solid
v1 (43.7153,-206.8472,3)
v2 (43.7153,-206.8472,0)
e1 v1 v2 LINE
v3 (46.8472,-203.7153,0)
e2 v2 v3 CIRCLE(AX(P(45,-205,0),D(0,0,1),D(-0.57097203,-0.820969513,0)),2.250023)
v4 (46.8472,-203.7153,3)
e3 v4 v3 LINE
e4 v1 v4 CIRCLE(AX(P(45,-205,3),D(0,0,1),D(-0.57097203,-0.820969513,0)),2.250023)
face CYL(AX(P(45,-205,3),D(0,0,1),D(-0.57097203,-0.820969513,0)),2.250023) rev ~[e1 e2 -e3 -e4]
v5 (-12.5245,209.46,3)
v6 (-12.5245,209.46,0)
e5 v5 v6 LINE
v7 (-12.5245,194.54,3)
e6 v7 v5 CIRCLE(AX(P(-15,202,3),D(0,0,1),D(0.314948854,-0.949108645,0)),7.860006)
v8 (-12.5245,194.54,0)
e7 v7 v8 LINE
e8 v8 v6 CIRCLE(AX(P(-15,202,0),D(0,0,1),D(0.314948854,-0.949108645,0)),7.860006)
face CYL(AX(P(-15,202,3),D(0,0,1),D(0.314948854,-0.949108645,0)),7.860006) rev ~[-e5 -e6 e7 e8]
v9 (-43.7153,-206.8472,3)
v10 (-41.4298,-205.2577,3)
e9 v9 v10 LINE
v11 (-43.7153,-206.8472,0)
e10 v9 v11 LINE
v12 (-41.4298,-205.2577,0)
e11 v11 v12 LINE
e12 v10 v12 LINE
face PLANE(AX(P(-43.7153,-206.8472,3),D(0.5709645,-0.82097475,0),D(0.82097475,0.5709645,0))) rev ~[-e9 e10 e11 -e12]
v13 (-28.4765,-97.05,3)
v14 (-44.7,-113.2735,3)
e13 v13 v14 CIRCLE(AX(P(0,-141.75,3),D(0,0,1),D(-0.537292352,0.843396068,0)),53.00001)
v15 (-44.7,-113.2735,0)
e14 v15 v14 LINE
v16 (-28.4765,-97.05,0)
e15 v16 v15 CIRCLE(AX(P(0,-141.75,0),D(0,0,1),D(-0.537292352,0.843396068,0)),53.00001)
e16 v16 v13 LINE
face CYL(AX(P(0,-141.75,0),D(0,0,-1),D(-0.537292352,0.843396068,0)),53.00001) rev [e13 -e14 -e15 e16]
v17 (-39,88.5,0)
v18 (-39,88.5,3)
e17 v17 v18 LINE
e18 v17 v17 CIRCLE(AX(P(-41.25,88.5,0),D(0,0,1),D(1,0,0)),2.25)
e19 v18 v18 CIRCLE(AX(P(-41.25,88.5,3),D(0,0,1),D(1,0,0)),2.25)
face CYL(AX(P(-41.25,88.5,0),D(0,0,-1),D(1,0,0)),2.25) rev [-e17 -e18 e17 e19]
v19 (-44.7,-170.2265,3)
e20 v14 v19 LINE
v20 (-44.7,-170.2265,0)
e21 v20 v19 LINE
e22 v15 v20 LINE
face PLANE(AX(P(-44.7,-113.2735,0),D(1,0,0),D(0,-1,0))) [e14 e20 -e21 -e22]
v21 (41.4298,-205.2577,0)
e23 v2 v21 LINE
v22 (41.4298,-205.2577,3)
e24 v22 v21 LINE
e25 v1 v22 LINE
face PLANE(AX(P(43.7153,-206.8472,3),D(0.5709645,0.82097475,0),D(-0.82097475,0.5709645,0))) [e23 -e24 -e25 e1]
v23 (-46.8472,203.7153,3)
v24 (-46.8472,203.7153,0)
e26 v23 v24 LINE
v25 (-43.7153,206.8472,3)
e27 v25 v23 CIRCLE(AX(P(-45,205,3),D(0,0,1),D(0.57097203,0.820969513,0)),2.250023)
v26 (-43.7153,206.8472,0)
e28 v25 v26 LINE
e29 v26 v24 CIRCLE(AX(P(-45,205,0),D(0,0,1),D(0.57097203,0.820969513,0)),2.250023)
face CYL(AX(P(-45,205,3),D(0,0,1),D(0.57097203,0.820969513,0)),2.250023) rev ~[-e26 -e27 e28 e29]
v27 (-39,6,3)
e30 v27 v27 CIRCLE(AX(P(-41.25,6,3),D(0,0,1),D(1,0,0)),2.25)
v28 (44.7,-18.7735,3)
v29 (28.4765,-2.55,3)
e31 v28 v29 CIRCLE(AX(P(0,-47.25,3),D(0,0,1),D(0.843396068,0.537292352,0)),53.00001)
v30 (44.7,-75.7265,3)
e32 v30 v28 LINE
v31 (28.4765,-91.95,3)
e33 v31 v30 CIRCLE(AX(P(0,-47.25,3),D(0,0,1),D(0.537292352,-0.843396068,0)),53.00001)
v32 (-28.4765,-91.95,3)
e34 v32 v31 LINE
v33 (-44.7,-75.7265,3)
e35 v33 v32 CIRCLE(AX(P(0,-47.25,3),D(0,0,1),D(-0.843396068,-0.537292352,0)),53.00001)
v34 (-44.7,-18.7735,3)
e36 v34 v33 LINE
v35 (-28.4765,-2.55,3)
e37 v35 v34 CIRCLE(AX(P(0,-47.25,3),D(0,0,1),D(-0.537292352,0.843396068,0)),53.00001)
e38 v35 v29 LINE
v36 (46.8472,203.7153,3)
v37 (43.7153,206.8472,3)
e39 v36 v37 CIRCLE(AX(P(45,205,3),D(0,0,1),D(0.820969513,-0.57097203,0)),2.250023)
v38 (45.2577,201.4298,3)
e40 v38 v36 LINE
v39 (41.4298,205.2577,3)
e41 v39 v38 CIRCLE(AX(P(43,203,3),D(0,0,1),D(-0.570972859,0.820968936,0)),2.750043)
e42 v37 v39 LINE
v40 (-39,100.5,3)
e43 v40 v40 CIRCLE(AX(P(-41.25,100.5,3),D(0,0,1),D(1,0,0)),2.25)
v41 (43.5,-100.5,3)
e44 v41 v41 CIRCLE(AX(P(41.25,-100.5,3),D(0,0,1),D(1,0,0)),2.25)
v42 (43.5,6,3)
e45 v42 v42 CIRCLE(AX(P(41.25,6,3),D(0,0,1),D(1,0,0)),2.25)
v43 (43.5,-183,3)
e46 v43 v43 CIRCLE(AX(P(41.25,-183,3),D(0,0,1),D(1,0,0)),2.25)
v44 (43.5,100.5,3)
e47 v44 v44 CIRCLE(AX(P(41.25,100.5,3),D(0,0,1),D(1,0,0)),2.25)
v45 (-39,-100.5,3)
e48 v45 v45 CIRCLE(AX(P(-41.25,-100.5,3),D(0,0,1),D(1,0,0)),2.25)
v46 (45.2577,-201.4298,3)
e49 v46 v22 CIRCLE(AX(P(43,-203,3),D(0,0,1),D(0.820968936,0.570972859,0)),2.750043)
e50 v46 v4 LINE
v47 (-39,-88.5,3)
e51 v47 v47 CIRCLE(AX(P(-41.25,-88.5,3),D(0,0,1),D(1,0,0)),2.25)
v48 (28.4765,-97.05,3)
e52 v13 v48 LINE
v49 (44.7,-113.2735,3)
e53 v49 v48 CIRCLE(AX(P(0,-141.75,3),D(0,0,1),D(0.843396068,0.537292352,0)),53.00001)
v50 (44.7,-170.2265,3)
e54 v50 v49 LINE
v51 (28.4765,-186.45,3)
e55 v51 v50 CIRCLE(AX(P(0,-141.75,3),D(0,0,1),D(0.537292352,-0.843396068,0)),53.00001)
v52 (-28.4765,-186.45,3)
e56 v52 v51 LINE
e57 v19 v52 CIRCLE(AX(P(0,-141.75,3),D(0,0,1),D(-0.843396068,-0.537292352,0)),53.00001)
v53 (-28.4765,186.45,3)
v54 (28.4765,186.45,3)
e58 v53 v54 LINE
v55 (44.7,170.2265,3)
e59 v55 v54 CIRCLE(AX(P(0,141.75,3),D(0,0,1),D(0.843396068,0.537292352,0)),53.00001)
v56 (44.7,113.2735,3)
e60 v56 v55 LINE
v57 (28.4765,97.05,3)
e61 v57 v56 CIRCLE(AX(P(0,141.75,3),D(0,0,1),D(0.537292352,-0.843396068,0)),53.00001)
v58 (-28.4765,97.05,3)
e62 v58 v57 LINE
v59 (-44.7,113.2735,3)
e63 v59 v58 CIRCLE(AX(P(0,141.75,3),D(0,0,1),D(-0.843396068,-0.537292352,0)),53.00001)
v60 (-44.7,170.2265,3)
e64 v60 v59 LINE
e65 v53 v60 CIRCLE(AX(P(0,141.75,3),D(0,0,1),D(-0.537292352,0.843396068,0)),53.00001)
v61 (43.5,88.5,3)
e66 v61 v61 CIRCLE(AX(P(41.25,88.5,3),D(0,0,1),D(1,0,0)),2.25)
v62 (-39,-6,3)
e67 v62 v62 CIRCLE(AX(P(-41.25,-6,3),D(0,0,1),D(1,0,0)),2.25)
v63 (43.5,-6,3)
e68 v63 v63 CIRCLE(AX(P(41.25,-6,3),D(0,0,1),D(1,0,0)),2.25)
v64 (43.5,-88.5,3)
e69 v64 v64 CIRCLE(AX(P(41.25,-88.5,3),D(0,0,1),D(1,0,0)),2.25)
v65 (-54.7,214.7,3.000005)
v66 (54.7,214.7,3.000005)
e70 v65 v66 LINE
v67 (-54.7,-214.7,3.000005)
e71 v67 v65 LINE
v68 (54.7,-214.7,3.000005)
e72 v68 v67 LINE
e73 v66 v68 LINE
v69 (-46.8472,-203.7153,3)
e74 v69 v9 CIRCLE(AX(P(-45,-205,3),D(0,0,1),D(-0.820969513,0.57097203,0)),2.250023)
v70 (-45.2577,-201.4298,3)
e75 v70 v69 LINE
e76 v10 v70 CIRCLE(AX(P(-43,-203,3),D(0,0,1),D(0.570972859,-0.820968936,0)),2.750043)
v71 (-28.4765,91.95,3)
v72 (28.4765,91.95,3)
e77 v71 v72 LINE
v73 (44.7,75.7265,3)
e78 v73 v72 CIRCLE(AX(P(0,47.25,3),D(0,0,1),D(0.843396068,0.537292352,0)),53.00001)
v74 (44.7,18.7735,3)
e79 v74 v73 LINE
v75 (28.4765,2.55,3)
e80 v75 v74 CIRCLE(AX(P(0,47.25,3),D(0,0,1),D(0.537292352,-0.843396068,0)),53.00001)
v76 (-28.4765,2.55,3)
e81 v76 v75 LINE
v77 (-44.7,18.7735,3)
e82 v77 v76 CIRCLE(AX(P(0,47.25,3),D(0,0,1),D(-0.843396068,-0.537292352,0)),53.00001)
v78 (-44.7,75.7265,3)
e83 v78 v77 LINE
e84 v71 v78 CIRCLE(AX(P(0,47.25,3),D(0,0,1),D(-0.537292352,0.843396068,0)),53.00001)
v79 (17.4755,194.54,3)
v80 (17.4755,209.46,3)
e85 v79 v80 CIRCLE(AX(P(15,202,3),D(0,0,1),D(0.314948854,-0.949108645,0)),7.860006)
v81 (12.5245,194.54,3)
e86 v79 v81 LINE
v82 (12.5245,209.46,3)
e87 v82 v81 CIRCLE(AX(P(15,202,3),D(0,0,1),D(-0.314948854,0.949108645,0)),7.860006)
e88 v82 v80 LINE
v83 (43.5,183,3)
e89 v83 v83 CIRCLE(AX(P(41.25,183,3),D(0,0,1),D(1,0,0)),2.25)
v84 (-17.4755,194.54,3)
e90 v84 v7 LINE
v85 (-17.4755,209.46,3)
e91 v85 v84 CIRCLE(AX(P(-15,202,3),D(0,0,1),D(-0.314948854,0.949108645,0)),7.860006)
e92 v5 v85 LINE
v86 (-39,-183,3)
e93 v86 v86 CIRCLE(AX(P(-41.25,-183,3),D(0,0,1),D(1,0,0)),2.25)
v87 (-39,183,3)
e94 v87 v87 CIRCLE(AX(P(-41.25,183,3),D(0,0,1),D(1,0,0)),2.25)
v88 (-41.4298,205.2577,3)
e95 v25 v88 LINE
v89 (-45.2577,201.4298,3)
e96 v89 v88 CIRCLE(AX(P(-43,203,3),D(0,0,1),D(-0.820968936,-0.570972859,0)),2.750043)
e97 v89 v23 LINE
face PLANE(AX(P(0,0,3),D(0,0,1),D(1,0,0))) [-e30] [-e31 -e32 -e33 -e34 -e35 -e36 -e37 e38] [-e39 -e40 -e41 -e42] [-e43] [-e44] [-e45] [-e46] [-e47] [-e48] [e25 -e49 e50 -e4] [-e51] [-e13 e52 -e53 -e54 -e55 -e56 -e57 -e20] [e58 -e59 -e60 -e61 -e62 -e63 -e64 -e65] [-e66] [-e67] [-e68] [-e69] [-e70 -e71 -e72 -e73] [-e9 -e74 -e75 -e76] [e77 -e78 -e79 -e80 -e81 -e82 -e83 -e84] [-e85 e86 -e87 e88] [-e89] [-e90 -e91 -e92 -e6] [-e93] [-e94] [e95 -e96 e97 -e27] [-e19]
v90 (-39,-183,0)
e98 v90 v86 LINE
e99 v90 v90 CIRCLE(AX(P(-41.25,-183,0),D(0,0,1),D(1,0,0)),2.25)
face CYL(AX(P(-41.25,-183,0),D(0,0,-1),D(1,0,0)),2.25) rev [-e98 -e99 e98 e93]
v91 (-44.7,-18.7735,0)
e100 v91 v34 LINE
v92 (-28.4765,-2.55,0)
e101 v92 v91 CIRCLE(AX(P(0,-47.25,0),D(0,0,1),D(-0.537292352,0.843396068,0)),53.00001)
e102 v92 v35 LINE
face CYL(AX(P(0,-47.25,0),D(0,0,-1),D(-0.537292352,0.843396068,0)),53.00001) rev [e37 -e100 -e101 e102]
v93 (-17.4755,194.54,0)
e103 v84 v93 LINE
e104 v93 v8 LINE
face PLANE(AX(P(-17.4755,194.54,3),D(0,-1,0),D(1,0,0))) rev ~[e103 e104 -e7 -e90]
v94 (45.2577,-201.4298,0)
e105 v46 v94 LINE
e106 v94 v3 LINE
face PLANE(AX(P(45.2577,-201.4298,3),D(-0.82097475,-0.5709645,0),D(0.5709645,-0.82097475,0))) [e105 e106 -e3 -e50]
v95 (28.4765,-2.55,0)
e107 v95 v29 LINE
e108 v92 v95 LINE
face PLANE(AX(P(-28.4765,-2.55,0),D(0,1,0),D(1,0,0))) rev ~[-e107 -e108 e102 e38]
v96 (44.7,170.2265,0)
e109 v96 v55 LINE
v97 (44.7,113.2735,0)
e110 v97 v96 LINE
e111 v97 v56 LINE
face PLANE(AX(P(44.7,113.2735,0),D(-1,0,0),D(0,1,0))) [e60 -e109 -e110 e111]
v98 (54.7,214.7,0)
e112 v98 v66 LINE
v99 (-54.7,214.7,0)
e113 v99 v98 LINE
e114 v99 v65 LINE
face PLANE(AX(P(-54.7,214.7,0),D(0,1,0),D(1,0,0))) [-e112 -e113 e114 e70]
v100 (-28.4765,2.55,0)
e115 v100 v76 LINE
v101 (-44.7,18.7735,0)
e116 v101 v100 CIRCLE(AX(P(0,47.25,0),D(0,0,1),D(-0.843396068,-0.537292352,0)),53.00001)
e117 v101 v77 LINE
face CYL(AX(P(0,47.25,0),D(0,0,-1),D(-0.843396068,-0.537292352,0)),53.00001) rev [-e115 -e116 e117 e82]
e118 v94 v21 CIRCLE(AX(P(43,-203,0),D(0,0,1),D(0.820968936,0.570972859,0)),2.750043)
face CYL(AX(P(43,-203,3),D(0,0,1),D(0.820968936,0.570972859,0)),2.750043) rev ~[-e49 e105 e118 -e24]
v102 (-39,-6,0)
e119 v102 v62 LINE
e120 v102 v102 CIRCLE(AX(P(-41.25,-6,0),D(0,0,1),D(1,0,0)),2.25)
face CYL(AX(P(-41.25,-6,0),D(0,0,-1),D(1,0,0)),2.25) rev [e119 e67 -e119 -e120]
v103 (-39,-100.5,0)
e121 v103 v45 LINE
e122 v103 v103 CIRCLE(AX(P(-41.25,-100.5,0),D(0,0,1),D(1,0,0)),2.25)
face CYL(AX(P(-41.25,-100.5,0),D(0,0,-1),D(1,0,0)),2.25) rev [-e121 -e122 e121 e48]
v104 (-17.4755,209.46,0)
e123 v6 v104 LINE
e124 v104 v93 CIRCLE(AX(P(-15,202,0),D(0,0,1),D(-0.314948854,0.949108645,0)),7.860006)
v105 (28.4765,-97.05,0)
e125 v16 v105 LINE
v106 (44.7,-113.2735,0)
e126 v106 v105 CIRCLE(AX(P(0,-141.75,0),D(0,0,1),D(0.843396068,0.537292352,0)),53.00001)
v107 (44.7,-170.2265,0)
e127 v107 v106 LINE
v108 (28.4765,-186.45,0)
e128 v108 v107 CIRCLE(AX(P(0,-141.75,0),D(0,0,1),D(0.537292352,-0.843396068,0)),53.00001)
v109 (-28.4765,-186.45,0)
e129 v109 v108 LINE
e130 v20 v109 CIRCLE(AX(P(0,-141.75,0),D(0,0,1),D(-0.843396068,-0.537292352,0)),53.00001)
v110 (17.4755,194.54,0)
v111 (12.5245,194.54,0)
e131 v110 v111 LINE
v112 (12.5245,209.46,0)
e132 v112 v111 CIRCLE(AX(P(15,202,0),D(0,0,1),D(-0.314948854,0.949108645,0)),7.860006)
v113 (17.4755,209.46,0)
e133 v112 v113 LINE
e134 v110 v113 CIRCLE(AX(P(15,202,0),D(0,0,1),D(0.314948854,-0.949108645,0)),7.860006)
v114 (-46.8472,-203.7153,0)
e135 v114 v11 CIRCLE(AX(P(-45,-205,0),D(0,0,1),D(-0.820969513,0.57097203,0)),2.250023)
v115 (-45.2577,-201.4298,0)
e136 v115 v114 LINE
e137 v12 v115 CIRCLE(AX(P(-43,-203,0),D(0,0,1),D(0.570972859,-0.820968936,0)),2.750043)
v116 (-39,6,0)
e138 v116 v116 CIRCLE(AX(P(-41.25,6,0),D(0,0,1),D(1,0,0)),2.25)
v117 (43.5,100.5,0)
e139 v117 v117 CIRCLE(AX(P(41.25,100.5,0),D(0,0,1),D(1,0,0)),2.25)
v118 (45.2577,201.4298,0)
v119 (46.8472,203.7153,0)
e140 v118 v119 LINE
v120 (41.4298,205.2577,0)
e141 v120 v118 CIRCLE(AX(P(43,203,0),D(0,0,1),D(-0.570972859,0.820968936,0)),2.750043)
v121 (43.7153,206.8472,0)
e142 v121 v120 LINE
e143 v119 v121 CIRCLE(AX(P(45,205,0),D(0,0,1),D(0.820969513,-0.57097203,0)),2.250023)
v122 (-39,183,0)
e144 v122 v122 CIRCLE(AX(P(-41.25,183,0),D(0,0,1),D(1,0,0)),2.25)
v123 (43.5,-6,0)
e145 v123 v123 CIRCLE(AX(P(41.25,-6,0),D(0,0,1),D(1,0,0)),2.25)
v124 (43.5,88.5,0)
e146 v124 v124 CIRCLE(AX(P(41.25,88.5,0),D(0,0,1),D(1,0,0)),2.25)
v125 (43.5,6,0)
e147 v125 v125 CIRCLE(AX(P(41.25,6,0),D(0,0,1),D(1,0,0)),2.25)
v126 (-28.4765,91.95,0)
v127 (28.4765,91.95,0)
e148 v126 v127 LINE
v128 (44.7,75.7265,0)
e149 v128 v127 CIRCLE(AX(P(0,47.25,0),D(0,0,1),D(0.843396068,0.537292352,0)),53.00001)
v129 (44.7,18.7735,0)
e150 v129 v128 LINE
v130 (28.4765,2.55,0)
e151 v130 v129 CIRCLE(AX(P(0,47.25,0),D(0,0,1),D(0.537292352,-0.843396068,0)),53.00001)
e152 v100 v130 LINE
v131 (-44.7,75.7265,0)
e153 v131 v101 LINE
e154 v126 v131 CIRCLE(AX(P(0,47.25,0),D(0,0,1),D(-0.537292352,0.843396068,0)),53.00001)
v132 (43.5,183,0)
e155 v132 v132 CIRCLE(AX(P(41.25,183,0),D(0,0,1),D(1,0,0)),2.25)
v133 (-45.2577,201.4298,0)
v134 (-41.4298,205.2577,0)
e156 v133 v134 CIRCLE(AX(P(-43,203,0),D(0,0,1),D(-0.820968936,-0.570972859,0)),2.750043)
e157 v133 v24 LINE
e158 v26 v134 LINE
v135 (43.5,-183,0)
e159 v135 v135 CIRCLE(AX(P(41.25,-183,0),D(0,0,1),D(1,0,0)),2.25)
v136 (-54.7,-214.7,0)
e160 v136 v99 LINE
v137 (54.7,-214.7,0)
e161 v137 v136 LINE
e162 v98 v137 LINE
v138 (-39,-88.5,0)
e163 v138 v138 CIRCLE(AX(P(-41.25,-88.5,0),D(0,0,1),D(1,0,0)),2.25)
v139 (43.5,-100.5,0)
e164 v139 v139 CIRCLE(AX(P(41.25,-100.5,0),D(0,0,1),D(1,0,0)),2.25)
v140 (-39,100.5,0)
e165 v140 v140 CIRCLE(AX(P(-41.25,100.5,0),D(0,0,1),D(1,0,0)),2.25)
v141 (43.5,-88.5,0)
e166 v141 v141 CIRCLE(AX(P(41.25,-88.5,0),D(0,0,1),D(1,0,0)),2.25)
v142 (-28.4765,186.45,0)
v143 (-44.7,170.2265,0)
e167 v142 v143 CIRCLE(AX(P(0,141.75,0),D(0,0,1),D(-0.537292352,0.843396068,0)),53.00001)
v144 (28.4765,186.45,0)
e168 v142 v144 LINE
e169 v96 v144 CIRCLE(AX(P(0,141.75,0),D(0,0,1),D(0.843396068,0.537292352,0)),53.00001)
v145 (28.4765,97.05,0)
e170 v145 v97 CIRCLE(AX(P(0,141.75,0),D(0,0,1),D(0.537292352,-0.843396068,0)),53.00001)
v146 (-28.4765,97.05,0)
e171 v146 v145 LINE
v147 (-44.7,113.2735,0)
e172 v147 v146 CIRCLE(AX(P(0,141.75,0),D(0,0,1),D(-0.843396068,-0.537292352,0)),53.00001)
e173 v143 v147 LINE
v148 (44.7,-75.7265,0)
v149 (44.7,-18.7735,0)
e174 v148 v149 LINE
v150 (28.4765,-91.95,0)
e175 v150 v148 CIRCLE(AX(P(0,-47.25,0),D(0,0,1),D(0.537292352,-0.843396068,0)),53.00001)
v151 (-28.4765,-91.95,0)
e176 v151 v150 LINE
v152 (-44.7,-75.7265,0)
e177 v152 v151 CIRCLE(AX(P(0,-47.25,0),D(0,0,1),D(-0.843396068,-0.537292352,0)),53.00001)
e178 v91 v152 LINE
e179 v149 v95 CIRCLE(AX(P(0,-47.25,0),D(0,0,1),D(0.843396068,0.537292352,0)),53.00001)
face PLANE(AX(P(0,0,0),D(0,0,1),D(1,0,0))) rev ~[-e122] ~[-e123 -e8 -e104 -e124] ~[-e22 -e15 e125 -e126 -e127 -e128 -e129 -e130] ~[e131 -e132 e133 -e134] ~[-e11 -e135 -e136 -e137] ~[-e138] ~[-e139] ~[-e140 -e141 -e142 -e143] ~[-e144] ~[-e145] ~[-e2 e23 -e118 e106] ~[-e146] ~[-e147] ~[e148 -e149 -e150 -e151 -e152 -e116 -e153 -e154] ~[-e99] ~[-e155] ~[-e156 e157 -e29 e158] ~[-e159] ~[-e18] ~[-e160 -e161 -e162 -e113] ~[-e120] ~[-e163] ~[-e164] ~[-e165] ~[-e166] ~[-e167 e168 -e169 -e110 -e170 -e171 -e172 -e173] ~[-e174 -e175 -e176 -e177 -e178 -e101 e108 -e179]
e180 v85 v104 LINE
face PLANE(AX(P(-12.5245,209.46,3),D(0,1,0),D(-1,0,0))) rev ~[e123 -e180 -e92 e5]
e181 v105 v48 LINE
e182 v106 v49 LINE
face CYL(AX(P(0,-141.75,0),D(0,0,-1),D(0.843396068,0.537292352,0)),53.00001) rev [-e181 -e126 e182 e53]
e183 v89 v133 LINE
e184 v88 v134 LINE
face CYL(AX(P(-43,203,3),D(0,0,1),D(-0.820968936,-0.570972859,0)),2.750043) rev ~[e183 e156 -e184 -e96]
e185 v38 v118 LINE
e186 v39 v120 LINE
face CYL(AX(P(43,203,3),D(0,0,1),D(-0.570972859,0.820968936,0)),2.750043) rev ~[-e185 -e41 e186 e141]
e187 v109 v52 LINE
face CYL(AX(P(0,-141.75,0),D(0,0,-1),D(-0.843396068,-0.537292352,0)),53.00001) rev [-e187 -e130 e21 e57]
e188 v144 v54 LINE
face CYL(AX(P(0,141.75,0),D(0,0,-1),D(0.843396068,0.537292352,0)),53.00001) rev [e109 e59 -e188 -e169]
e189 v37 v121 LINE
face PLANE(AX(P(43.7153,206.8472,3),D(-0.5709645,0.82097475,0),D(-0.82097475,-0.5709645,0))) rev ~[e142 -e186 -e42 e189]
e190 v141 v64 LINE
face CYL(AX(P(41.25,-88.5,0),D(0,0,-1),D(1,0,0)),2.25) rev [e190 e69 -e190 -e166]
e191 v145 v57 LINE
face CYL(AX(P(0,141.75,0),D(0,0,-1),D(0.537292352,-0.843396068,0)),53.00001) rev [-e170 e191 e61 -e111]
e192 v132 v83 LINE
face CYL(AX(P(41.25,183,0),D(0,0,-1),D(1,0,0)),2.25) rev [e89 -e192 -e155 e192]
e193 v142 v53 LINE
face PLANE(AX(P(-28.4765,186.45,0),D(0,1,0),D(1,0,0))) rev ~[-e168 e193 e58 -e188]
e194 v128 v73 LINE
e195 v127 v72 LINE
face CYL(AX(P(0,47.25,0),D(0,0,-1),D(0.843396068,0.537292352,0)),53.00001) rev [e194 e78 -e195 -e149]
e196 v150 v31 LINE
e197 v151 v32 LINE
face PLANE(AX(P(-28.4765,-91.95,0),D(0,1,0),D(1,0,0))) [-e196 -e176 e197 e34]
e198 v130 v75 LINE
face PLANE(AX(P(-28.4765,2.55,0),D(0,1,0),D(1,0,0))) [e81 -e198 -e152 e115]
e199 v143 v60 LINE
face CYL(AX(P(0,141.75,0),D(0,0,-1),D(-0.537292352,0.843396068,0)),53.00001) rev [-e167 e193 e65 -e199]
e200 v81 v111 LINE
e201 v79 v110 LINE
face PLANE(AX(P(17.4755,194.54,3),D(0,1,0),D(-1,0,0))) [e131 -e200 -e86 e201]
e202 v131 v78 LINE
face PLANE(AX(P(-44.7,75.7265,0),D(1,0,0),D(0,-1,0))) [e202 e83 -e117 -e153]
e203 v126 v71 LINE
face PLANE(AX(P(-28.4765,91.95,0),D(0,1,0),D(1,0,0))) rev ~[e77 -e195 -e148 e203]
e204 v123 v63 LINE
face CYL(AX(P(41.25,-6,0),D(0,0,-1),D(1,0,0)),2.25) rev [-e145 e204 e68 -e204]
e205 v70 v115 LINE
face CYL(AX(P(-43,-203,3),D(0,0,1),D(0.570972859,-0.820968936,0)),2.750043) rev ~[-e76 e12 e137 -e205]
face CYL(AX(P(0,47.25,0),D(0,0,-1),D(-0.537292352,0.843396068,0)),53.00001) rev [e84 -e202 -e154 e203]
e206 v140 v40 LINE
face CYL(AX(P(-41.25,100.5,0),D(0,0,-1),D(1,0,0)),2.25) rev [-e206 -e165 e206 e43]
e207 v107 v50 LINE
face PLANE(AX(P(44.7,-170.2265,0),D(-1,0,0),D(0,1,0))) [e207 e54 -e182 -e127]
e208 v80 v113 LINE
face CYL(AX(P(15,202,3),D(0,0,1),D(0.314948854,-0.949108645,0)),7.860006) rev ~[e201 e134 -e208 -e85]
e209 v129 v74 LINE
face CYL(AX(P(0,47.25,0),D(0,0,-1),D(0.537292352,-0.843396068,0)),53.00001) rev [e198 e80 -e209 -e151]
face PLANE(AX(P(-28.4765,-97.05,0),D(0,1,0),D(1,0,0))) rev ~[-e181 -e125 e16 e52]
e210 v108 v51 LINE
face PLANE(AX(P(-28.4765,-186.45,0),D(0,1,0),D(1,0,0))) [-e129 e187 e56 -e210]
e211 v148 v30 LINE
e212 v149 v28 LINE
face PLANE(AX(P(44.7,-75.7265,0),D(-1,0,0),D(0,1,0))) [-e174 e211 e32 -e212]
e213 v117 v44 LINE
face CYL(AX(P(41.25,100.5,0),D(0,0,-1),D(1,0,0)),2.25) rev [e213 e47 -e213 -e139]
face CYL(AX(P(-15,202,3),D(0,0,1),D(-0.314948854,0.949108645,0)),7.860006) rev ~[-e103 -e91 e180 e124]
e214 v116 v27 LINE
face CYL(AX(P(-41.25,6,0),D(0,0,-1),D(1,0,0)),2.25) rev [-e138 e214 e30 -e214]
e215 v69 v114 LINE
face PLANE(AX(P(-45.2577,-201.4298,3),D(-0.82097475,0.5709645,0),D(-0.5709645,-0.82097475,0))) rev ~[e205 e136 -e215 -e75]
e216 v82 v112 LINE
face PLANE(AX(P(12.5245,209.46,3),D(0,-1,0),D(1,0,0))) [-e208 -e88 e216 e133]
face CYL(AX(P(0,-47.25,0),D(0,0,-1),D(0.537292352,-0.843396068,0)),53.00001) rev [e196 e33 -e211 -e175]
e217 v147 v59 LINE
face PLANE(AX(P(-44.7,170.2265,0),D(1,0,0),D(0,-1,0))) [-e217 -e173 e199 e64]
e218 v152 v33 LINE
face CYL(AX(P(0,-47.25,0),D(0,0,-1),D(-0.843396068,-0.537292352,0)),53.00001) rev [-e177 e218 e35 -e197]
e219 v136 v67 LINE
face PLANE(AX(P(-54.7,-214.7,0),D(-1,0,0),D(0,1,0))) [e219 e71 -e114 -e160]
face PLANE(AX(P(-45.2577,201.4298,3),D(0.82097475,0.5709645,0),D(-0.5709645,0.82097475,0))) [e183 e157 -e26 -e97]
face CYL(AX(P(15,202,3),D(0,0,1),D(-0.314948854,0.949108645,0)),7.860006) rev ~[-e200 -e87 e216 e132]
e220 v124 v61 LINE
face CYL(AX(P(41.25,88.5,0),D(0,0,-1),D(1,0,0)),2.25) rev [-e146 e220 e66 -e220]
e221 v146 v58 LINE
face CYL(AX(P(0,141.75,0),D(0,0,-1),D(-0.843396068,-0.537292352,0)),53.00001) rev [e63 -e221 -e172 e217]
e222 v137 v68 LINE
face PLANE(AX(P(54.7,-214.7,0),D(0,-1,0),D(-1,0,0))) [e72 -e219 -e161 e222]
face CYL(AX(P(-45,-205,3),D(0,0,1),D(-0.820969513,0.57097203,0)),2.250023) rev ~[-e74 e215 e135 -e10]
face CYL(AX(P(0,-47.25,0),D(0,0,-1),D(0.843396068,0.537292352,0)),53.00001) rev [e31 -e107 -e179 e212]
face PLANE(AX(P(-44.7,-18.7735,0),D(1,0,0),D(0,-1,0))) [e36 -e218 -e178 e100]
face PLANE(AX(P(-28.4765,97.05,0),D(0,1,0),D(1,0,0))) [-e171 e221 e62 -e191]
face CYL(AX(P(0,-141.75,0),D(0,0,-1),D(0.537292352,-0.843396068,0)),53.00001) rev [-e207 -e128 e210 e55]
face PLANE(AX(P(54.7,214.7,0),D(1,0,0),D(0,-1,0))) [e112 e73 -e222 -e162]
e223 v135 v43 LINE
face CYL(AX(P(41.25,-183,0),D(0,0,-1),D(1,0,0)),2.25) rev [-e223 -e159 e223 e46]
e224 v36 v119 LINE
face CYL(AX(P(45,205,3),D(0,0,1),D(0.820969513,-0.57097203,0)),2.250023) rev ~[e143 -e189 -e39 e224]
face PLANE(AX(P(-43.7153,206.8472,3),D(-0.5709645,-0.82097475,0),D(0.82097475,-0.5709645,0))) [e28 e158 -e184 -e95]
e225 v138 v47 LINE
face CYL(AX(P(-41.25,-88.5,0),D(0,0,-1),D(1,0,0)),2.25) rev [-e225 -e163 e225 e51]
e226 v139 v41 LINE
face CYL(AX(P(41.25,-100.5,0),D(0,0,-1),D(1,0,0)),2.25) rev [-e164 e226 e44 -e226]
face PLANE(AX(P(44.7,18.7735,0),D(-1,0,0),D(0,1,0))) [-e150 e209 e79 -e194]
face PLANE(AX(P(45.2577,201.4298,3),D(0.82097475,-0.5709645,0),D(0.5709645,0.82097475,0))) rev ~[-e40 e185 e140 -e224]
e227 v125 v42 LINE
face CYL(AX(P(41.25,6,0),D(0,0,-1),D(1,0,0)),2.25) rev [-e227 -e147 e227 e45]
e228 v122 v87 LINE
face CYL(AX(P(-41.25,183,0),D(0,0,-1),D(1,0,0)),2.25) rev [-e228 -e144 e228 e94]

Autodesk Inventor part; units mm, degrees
ref_plane "YZ Plane" through (0, 0, 0) normal (1, 0, 0) x (0, 1, 0)
ref_plane "XZ Plane" through (0, 0, 0) normal (0, 1, 0) x (-1, 0, 0)
ref_plane "XY Plane" through (0, 0, 0) normal (0, 0, 1) x (1, 0, 0)
sketch "スケッチ1" plane through (0, 0, 0) normal (0, 0, 1) x (1, 0, 0)
  line L0 (-55, -215) -> (55, -215)
  line L1 (55, -215) -> (55, 215)
  line L2 (55, 215) -> (-55, 215)
  line L3 (-55, 215) -> (-55, -215)
  line L4 (-55, -215) -> (55, 215) construction
  line L5 (55, -215) -> (-55, 215) construction
  line L6 (-55, 185) -> (-50, 185) construction
  line L7 (-50, 185) -> (-25, 210) construction
  line L8 (-25, 210) -> (-25, 215) construction
  line L9 (-46, 95.75) -> (46, 95.75) construction
  line L10 (46, 95.75) -> (46, 187.75) construction
  line L11 (46, 187.75) -> (-46, 187.75) construction
  line L12 (-46, 187.75) -> (-46, 95.75) construction
  line L13 (-46, 95.75) -> (46, 187.75) construction
  line L14 (46, 95.75) -> (-46, 187.75) construction
  line L15 (-46, 1.25) -> (46, 1.25) construction
  line L16 (46, 1.25) -> (46, 93.25) construction
  line L17 (46, 93.25) -> (-46, 93.25) construction
  line L18 (-46, 93.25) -> (-46, 1.25) construction
  line L19 (-46, 1.25) -> (46, 93.25) construction
  line L20 (46, 1.25) -> (-46, 93.25) construction
  line L21 (0, 0) -> (0, 141.75) construction
  circle A0 centre (0, 141.75) radius 53 construction
  line L22 (-44.7, 97.05) -> (44.7, 97.05) construction
  line L23 (44.7, 97.05) -> (44.7, 186.45) construction
  line L24 (44.7, 186.45) -> (-44.7, 186.45) construction
  line L25 (-44.7, 186.45) -> (-44.7, 97.05) construction
  line L26 (-44.7, 97.05) -> (44.7, 186.45) construction
  line L27 (44.7, 97.05) -> (-44.7, 186.45) construction
  arc A1 (-28.4765, 186.45) -> (-44.7, 170.2265) centre (0, 141.75) ccw
  arc A2 (-44.7, 113.2735) -> (-28.4765, 97.05) centre (0, 141.75) ccw
  arc A3 (28.4765, 97.05) -> (44.7, 113.2735) centre (0, 141.75) ccw
  arc A4 (44.7, 170.2265) -> (28.4765, 186.45) centre (0, 141.75) ccw
  line L28 (-28.4765, 186.45) -> (28.4765, 186.45)
  line L29 (-44.7, 170.2265) -> (-44.7, 113.2735)
  line L30 (-28.4765, 97.05) -> (28.4765, 97.05)
  line L31 (44.7, 113.2735) -> (44.7, 170.2265)
  line L32 (-41.25, 100.5) -> (41.25, 100.5) construction
  line L33 (41.25, 100.5) -> (41.25, 183) construction
  line L34 (41.25, 183) -> (-41.25, 183) construction
  line L35 (-41.25, 183) -> (-41.25, 100.5) construction
  line L36 (-41.25, 100.5) -> (41.25, 183) construction
  line L37 (41.25, 100.5) -> (-41.25, 183) construction
  circle A5 centre (-41.25, 183) radius 2.25
  circle A6 centre (-41.25, 100.5) radius 2.25
  circle A7 centre (41.25, 100.5) radius 2.25
  circle A8 centre (41.25, 183) radius 2.25
  circle A9 centre (-41.25, 88.5) radius 2.25
  arc A10 (-28.4765, 91.95) -> (-44.7, 75.7265) centre (0, 47.25) ccw
  line L38 (-28.4765, 91.95) -> (28.4765, 91.95)
  arc A11 (44.7, 75.7265) -> (28.4765, 91.95) centre (0, 47.25) ccw
  circle A12 centre (41.25, 88.5) radius 2.25
  line L39 (44.7, 18.7735) -> (44.7, 75.7265)
  arc A13 (28.4765, 2.55) -> (44.7, 18.7735) centre (0, 47.25) ccw
  circle A14 centre (41.25, 6) radius 2.25
  line L40 (-28.4765, 2.55) -> (28.4765, 2.55)
  circle A15 centre (-41.25, 6) radius 2.25
  arc A16 (-44.7, 18.7735) -> (-28.4765, 2.55) centre (0, 47.25) ccw
  line L41 (-44.7, 75.7265) -> (-44.7, 18.7735)
  circle A17 centre (-41.25, -6) radius 2.25
  arc A18 (-28.4765, -2.55) -> (-44.7, -18.7735) centre (0, -47.25) ccw
  line L42 (-28.4765, -2.55) -> (28.4765, -2.55)
  arc A19 (44.7, -18.7735) -> (28.4765, -2.55) centre (0, -47.25) ccw
  circle A20 centre (41.25, -6) radius 2.25
  line L43 (44.7, -75.7265) -> (44.7, -18.7735)
  arc A21 (28.4765, -91.95) -> (44.7, -75.7265) centre (0, -47.25) ccw
  circle A22 centre (41.25, -88.5) radius 2.25
  line L44 (-28.4765, -91.95) -> (28.4765, -91.95)
  circle A23 centre (-41.25, -88.5) radius 2.25
  arc A24 (-44.7, -75.7265) -> (-28.4765, -91.95) centre (0, -47.25) ccw
  line L45 (-44.7, -18.7735) -> (-44.7, -75.7265)
  circle A25 centre (-41.25, -100.5) radius 2.25
  arc A26 (-28.4765, -97.05) -> (-44.7, -113.2735) centre (0, -141.75) ccw
  line L46 (-28.4765, -97.05) -> (28.4765, -97.05)
  arc A27 (44.7, -113.2735) -> (28.4765, -97.05) centre (0, -141.75) ccw
  circle A28 centre (41.25, -100.5) radius 2.25
  line L47 (44.7, -170.2265) -> (44.7, -113.2735)
  arc A29 (28.4765, -186.45) -> (44.7, -170.2265) centre (0, -141.75) ccw
  circle A30 centre (41.25, -183) radius 2.25
  line L48 (-28.4765, -186.45) -> (28.4765, -186.45)
  circle A31 centre (-41.25, -183) radius 2.25
  arc A32 (-44.7, -170.2265) -> (-28.4765, -186.45) centre (0, -141.75) ccw
  line L49 (-44.7, -113.2735) -> (-44.7, -170.2265)
  circle A33 centre (-45, 205) radius 2.25
  circle A34 centre (45, 205) radius 2.25
  circle A35 centre (45, -205) radius 2.25
  circle A36 centre (-45, -205) radius 2.25
  circle A37 centre (-45, 0) radius 2.25
  circle A38 centre (45, 0) radius 2.25
  line L50 (-55, 0) -> (55, 0) construction
  point P0 (0, 47.25)
  point P1 (0, 47.25)
  dimension "d12" = 106
  dimension "d0" = 110
  dimension "d1" = 430
  dimension "d2" = 135
  dimension "d3" = 30
  dimension "d4" = 30
  dimension "d5" = 5
  dimension "d6" = 92
  dimension "d7" = 92
  dimension "d8" = 92
  dimension "d9" = 92
  dimension "d10" = 2.5
  dimension "d11" = 1.25
  dimension "d13" = 89.4
  dimension "d14" = 89.4
  dimension "d15" = 82.5
  dimension "d16" = 82.5
  dimension "d17" = 4.5
  dimension "d20" = 94.5
  dimension "d25" = 4.5
  dimension "d26" = 10
  dimension "d27" = 10
  dimension "d28" = 10
  dimension "d29" = 10
  dimension "d30" = 10
  dimension "d31" = 10
  dimension "d32" = 10
  dimension "d33" = 10
  dimension "d34" = 10
  dimension "d35" = 10
extrude "押し出し1" add sketch "スケッチ1" along normal blind 3 contours L3 L2 L1 L0 | A37 | A38
sketch "スケッチ2" plane through (0, 0, 3) normal (0, 0, 1) x (1, 0, 0)
  circle A0 centre (-45, 205) radius 2.25 construction
  circle A1 centre (45, -205) radius 2.25 construction
  circle A2 centre (-45, -205) radius 2.25 construction
  circle A3 centre (-43, 203) radius 2.75 construction
  line L0 (55, 215) -> (-55, 215) projected
  line L1 (-55, 215) -> (-55, -215) projected
  line L2 (-43.7153, 206.8472) -> (-41.4298, 205.2577)
  line L3 (-45.2577, 201.4298) -> (-46.8472, 203.7153)
  circle A4 centre (-45, 205) radius 2.25 construction
  arc A5 (-43.7153, 206.8472) -> (-46.8472, 203.7153) centre (-45, 205) ccw
  arc A6 (-45.2577, 201.4298) -> (-41.4298, 205.2577) centre (-43, 203) ccw
  line L4 (55, 215) -> (-55, 215) construction
  line L5 (0, 215) -> (0, -215) construction
  line L6 (-55, -215) -> (55, -215) construction
  line L7 (-55, 0) -> (55, 0) construction
  line L8 (55, -215) -> (55, 215) construction
  circle A7 centre (45, 205) radius 2.25 construction
  circle A8 centre (43, 203) radius 2.75 construction
  line L9 (43.7153, 206.8472) -> (41.4298, 205.2577)
  line L10 (45.2577, 201.4298) -> (46.8472, 203.7153)
  circle A9 centre (45, 205) radius 2.25 construction
  arc A10 (46.8472, 203.7153) -> (43.7153, 206.8472) centre (45, 205) ccw
  arc A11 (41.4298, 205.2577) -> (45.2577, 201.4298) centre (43, 203) ccw
  circle A12 centre (-45, -205) radius 2.25 construction
  circle A13 centre (-43, -203) radius 2.75 construction
  line L11 (-43.7153, -206.8472) -> (-41.4298, -205.2577)
  line L12 (-45.2577, -201.4298) -> (-46.8472, -203.7153)
  circle A14 centre (-45, -205) radius 2.25 construction
  arc A15 (-46.8472, -203.7153) -> (-43.7153, -206.8472) centre (-45, -205) ccw
  arc A16 (-41.4298, -205.2577) -> (-45.2577, -201.4298) centre (-43, -203) ccw
  circle A17 centre (45, -205) radius 2.25 construction
  line L13 (45.2577, -201.4298) -> (46.8472, -203.7153)
  arc A18 (45.2577, -201.4298) -> (41.4298, -205.2577) centre (43, -203) ccw
  circle A19 centre (43, -203) radius 2.75 construction
  line L14 (43.7153, -206.8472) -> (41.4298, -205.2577)
  circle A20 centre (45, -205) radius 2.25 construction
  arc A21 (43.7153, -206.8472) -> (46.8472, -203.7153) centre (45, -205) ccw
  point P0 (0, 0)
  dimension "d38" = 5.5
  dimension "d39" = 12
  dimension "d40" = 12
extrude "押し出し2" cut sketch "スケッチ2" against normal through all
sketch "スケッチ4" plane through (0, 0, 3) normal (0, 0, 1) x (1, 0, 0)
  line L0 (55, 215) -> (-55, 215) construction
  line L1 (-28.4765, 186.45) -> (28.4765, 186.45) construction
  line L2 (55, 215) -> (-55, 215) construction
  line L3 (0, 215) -> (0, 186.45) construction
  arc A0 (-17.4739, 209.45) -> (-17.4739, 194.55) centre (-15, 202) ccw construction
  line L4 (-17.4739, 209.45) -> (-12.5261, 209.45) construction
  line L5 (-12.5261, 194.55) -> (-17.4739, 194.55) construction
  arc A1 (-12.5261, 209.45) -> (-17.4739, 209.45) centre (-15, 202) ccw construction
  arc A2 (-12.5261, 194.55) -> (-12.5261, 209.45) centre (-15, 202) ccw construction
  arc A3 (-17.4739, 194.55) -> (-12.5261, 194.55) centre (-15, 202) ccw construction
  line L6 (-17.4755, 194.54) -> (-12.5245, 194.54)
  arc A4 (-12.5245, 194.54) -> (-12.5245, 209.46) centre (-15, 202) ccw
  line L7 (-12.5245, 209.46) -> (-17.4755, 209.46)
  arc A5 (-17.4755, 209.46) -> (-17.4755, 194.54) centre (-15, 202) ccw
  line L8 (-25, 215) -> (-25, 210) construction
  line L9 (-25, 210) -> (-50, 185) construction
  line L10 (-50, 185) -> (-55, 185) construction
  line L11 (-55, 215) -> (-55, -215) construction
  line L12 (17.4755, 194.54) -> (12.5245, 194.54)
  line L13 (12.5245, 209.46) -> (17.4755, 209.46)
  arc A6 (12.5245, 209.46) -> (12.5245, 194.54) centre (15, 202) ccw
  arc A7 (17.4755, 194.54) -> (17.4755, 209.46) centre (15, 202) ccw
  point P0 (0, 0)
  dimension "d46" = 15.7
  dimension "d47" = 14.9
  dimension "d48" = 0.01
  dimension "d49" = 13
  dimension "d50" = 15
  dimension "d51" = 135
  dimension "d52" = 30
  dimension "d53" = 5
extrude "押し出し4" cut sketch "スケッチ4" against normal through all
sketch "スケッチ3" plane through (0, 0, 0) normal (0, 0, -1) x (-1, 0, 0)
  line L0 (-55, 215) -> (55, 215) construction
  line L1 (-55, -215) -> (-55, 215) construction
  line L2 (55, -215) -> (-55, -215) construction
  line L3 (55, 215) -> (55, -215) construction
  line L4 (54.7, 214.7) -> (-54.7, 214.7)
  line L5 (-54.7, 214.7) -> (-54.7, -214.7)
  line L6 (-54.7, -214.7) -> (54.7, -214.7)
  line L7 (54.7, -214.7) -> (54.7, 214.7)
  point P0 (0, 0)
  dimension "d43" = 0.3
extrude "押し出し3" cut sketch "スケッチ3" against normal through all keep common part
equation "\"d4\" = d3"
equation "\"d11\" = 0.5 * d10"
equation "\"d20\" = d7 + d10"
equation "\"d27\" = d26"
equation "\"d28\" = d26"
equation "\"d29\" = d26"
equation "\"d30\" = d26"
equation "\"d31\" = d26"
equation "\"d32\" = d26"
equation "\"d33\" = d26"
equation "\"d34\" = d26"
equation "\"d35\" = d26"
properties part number "front_panel_2" material "アルミニウム 6061"
